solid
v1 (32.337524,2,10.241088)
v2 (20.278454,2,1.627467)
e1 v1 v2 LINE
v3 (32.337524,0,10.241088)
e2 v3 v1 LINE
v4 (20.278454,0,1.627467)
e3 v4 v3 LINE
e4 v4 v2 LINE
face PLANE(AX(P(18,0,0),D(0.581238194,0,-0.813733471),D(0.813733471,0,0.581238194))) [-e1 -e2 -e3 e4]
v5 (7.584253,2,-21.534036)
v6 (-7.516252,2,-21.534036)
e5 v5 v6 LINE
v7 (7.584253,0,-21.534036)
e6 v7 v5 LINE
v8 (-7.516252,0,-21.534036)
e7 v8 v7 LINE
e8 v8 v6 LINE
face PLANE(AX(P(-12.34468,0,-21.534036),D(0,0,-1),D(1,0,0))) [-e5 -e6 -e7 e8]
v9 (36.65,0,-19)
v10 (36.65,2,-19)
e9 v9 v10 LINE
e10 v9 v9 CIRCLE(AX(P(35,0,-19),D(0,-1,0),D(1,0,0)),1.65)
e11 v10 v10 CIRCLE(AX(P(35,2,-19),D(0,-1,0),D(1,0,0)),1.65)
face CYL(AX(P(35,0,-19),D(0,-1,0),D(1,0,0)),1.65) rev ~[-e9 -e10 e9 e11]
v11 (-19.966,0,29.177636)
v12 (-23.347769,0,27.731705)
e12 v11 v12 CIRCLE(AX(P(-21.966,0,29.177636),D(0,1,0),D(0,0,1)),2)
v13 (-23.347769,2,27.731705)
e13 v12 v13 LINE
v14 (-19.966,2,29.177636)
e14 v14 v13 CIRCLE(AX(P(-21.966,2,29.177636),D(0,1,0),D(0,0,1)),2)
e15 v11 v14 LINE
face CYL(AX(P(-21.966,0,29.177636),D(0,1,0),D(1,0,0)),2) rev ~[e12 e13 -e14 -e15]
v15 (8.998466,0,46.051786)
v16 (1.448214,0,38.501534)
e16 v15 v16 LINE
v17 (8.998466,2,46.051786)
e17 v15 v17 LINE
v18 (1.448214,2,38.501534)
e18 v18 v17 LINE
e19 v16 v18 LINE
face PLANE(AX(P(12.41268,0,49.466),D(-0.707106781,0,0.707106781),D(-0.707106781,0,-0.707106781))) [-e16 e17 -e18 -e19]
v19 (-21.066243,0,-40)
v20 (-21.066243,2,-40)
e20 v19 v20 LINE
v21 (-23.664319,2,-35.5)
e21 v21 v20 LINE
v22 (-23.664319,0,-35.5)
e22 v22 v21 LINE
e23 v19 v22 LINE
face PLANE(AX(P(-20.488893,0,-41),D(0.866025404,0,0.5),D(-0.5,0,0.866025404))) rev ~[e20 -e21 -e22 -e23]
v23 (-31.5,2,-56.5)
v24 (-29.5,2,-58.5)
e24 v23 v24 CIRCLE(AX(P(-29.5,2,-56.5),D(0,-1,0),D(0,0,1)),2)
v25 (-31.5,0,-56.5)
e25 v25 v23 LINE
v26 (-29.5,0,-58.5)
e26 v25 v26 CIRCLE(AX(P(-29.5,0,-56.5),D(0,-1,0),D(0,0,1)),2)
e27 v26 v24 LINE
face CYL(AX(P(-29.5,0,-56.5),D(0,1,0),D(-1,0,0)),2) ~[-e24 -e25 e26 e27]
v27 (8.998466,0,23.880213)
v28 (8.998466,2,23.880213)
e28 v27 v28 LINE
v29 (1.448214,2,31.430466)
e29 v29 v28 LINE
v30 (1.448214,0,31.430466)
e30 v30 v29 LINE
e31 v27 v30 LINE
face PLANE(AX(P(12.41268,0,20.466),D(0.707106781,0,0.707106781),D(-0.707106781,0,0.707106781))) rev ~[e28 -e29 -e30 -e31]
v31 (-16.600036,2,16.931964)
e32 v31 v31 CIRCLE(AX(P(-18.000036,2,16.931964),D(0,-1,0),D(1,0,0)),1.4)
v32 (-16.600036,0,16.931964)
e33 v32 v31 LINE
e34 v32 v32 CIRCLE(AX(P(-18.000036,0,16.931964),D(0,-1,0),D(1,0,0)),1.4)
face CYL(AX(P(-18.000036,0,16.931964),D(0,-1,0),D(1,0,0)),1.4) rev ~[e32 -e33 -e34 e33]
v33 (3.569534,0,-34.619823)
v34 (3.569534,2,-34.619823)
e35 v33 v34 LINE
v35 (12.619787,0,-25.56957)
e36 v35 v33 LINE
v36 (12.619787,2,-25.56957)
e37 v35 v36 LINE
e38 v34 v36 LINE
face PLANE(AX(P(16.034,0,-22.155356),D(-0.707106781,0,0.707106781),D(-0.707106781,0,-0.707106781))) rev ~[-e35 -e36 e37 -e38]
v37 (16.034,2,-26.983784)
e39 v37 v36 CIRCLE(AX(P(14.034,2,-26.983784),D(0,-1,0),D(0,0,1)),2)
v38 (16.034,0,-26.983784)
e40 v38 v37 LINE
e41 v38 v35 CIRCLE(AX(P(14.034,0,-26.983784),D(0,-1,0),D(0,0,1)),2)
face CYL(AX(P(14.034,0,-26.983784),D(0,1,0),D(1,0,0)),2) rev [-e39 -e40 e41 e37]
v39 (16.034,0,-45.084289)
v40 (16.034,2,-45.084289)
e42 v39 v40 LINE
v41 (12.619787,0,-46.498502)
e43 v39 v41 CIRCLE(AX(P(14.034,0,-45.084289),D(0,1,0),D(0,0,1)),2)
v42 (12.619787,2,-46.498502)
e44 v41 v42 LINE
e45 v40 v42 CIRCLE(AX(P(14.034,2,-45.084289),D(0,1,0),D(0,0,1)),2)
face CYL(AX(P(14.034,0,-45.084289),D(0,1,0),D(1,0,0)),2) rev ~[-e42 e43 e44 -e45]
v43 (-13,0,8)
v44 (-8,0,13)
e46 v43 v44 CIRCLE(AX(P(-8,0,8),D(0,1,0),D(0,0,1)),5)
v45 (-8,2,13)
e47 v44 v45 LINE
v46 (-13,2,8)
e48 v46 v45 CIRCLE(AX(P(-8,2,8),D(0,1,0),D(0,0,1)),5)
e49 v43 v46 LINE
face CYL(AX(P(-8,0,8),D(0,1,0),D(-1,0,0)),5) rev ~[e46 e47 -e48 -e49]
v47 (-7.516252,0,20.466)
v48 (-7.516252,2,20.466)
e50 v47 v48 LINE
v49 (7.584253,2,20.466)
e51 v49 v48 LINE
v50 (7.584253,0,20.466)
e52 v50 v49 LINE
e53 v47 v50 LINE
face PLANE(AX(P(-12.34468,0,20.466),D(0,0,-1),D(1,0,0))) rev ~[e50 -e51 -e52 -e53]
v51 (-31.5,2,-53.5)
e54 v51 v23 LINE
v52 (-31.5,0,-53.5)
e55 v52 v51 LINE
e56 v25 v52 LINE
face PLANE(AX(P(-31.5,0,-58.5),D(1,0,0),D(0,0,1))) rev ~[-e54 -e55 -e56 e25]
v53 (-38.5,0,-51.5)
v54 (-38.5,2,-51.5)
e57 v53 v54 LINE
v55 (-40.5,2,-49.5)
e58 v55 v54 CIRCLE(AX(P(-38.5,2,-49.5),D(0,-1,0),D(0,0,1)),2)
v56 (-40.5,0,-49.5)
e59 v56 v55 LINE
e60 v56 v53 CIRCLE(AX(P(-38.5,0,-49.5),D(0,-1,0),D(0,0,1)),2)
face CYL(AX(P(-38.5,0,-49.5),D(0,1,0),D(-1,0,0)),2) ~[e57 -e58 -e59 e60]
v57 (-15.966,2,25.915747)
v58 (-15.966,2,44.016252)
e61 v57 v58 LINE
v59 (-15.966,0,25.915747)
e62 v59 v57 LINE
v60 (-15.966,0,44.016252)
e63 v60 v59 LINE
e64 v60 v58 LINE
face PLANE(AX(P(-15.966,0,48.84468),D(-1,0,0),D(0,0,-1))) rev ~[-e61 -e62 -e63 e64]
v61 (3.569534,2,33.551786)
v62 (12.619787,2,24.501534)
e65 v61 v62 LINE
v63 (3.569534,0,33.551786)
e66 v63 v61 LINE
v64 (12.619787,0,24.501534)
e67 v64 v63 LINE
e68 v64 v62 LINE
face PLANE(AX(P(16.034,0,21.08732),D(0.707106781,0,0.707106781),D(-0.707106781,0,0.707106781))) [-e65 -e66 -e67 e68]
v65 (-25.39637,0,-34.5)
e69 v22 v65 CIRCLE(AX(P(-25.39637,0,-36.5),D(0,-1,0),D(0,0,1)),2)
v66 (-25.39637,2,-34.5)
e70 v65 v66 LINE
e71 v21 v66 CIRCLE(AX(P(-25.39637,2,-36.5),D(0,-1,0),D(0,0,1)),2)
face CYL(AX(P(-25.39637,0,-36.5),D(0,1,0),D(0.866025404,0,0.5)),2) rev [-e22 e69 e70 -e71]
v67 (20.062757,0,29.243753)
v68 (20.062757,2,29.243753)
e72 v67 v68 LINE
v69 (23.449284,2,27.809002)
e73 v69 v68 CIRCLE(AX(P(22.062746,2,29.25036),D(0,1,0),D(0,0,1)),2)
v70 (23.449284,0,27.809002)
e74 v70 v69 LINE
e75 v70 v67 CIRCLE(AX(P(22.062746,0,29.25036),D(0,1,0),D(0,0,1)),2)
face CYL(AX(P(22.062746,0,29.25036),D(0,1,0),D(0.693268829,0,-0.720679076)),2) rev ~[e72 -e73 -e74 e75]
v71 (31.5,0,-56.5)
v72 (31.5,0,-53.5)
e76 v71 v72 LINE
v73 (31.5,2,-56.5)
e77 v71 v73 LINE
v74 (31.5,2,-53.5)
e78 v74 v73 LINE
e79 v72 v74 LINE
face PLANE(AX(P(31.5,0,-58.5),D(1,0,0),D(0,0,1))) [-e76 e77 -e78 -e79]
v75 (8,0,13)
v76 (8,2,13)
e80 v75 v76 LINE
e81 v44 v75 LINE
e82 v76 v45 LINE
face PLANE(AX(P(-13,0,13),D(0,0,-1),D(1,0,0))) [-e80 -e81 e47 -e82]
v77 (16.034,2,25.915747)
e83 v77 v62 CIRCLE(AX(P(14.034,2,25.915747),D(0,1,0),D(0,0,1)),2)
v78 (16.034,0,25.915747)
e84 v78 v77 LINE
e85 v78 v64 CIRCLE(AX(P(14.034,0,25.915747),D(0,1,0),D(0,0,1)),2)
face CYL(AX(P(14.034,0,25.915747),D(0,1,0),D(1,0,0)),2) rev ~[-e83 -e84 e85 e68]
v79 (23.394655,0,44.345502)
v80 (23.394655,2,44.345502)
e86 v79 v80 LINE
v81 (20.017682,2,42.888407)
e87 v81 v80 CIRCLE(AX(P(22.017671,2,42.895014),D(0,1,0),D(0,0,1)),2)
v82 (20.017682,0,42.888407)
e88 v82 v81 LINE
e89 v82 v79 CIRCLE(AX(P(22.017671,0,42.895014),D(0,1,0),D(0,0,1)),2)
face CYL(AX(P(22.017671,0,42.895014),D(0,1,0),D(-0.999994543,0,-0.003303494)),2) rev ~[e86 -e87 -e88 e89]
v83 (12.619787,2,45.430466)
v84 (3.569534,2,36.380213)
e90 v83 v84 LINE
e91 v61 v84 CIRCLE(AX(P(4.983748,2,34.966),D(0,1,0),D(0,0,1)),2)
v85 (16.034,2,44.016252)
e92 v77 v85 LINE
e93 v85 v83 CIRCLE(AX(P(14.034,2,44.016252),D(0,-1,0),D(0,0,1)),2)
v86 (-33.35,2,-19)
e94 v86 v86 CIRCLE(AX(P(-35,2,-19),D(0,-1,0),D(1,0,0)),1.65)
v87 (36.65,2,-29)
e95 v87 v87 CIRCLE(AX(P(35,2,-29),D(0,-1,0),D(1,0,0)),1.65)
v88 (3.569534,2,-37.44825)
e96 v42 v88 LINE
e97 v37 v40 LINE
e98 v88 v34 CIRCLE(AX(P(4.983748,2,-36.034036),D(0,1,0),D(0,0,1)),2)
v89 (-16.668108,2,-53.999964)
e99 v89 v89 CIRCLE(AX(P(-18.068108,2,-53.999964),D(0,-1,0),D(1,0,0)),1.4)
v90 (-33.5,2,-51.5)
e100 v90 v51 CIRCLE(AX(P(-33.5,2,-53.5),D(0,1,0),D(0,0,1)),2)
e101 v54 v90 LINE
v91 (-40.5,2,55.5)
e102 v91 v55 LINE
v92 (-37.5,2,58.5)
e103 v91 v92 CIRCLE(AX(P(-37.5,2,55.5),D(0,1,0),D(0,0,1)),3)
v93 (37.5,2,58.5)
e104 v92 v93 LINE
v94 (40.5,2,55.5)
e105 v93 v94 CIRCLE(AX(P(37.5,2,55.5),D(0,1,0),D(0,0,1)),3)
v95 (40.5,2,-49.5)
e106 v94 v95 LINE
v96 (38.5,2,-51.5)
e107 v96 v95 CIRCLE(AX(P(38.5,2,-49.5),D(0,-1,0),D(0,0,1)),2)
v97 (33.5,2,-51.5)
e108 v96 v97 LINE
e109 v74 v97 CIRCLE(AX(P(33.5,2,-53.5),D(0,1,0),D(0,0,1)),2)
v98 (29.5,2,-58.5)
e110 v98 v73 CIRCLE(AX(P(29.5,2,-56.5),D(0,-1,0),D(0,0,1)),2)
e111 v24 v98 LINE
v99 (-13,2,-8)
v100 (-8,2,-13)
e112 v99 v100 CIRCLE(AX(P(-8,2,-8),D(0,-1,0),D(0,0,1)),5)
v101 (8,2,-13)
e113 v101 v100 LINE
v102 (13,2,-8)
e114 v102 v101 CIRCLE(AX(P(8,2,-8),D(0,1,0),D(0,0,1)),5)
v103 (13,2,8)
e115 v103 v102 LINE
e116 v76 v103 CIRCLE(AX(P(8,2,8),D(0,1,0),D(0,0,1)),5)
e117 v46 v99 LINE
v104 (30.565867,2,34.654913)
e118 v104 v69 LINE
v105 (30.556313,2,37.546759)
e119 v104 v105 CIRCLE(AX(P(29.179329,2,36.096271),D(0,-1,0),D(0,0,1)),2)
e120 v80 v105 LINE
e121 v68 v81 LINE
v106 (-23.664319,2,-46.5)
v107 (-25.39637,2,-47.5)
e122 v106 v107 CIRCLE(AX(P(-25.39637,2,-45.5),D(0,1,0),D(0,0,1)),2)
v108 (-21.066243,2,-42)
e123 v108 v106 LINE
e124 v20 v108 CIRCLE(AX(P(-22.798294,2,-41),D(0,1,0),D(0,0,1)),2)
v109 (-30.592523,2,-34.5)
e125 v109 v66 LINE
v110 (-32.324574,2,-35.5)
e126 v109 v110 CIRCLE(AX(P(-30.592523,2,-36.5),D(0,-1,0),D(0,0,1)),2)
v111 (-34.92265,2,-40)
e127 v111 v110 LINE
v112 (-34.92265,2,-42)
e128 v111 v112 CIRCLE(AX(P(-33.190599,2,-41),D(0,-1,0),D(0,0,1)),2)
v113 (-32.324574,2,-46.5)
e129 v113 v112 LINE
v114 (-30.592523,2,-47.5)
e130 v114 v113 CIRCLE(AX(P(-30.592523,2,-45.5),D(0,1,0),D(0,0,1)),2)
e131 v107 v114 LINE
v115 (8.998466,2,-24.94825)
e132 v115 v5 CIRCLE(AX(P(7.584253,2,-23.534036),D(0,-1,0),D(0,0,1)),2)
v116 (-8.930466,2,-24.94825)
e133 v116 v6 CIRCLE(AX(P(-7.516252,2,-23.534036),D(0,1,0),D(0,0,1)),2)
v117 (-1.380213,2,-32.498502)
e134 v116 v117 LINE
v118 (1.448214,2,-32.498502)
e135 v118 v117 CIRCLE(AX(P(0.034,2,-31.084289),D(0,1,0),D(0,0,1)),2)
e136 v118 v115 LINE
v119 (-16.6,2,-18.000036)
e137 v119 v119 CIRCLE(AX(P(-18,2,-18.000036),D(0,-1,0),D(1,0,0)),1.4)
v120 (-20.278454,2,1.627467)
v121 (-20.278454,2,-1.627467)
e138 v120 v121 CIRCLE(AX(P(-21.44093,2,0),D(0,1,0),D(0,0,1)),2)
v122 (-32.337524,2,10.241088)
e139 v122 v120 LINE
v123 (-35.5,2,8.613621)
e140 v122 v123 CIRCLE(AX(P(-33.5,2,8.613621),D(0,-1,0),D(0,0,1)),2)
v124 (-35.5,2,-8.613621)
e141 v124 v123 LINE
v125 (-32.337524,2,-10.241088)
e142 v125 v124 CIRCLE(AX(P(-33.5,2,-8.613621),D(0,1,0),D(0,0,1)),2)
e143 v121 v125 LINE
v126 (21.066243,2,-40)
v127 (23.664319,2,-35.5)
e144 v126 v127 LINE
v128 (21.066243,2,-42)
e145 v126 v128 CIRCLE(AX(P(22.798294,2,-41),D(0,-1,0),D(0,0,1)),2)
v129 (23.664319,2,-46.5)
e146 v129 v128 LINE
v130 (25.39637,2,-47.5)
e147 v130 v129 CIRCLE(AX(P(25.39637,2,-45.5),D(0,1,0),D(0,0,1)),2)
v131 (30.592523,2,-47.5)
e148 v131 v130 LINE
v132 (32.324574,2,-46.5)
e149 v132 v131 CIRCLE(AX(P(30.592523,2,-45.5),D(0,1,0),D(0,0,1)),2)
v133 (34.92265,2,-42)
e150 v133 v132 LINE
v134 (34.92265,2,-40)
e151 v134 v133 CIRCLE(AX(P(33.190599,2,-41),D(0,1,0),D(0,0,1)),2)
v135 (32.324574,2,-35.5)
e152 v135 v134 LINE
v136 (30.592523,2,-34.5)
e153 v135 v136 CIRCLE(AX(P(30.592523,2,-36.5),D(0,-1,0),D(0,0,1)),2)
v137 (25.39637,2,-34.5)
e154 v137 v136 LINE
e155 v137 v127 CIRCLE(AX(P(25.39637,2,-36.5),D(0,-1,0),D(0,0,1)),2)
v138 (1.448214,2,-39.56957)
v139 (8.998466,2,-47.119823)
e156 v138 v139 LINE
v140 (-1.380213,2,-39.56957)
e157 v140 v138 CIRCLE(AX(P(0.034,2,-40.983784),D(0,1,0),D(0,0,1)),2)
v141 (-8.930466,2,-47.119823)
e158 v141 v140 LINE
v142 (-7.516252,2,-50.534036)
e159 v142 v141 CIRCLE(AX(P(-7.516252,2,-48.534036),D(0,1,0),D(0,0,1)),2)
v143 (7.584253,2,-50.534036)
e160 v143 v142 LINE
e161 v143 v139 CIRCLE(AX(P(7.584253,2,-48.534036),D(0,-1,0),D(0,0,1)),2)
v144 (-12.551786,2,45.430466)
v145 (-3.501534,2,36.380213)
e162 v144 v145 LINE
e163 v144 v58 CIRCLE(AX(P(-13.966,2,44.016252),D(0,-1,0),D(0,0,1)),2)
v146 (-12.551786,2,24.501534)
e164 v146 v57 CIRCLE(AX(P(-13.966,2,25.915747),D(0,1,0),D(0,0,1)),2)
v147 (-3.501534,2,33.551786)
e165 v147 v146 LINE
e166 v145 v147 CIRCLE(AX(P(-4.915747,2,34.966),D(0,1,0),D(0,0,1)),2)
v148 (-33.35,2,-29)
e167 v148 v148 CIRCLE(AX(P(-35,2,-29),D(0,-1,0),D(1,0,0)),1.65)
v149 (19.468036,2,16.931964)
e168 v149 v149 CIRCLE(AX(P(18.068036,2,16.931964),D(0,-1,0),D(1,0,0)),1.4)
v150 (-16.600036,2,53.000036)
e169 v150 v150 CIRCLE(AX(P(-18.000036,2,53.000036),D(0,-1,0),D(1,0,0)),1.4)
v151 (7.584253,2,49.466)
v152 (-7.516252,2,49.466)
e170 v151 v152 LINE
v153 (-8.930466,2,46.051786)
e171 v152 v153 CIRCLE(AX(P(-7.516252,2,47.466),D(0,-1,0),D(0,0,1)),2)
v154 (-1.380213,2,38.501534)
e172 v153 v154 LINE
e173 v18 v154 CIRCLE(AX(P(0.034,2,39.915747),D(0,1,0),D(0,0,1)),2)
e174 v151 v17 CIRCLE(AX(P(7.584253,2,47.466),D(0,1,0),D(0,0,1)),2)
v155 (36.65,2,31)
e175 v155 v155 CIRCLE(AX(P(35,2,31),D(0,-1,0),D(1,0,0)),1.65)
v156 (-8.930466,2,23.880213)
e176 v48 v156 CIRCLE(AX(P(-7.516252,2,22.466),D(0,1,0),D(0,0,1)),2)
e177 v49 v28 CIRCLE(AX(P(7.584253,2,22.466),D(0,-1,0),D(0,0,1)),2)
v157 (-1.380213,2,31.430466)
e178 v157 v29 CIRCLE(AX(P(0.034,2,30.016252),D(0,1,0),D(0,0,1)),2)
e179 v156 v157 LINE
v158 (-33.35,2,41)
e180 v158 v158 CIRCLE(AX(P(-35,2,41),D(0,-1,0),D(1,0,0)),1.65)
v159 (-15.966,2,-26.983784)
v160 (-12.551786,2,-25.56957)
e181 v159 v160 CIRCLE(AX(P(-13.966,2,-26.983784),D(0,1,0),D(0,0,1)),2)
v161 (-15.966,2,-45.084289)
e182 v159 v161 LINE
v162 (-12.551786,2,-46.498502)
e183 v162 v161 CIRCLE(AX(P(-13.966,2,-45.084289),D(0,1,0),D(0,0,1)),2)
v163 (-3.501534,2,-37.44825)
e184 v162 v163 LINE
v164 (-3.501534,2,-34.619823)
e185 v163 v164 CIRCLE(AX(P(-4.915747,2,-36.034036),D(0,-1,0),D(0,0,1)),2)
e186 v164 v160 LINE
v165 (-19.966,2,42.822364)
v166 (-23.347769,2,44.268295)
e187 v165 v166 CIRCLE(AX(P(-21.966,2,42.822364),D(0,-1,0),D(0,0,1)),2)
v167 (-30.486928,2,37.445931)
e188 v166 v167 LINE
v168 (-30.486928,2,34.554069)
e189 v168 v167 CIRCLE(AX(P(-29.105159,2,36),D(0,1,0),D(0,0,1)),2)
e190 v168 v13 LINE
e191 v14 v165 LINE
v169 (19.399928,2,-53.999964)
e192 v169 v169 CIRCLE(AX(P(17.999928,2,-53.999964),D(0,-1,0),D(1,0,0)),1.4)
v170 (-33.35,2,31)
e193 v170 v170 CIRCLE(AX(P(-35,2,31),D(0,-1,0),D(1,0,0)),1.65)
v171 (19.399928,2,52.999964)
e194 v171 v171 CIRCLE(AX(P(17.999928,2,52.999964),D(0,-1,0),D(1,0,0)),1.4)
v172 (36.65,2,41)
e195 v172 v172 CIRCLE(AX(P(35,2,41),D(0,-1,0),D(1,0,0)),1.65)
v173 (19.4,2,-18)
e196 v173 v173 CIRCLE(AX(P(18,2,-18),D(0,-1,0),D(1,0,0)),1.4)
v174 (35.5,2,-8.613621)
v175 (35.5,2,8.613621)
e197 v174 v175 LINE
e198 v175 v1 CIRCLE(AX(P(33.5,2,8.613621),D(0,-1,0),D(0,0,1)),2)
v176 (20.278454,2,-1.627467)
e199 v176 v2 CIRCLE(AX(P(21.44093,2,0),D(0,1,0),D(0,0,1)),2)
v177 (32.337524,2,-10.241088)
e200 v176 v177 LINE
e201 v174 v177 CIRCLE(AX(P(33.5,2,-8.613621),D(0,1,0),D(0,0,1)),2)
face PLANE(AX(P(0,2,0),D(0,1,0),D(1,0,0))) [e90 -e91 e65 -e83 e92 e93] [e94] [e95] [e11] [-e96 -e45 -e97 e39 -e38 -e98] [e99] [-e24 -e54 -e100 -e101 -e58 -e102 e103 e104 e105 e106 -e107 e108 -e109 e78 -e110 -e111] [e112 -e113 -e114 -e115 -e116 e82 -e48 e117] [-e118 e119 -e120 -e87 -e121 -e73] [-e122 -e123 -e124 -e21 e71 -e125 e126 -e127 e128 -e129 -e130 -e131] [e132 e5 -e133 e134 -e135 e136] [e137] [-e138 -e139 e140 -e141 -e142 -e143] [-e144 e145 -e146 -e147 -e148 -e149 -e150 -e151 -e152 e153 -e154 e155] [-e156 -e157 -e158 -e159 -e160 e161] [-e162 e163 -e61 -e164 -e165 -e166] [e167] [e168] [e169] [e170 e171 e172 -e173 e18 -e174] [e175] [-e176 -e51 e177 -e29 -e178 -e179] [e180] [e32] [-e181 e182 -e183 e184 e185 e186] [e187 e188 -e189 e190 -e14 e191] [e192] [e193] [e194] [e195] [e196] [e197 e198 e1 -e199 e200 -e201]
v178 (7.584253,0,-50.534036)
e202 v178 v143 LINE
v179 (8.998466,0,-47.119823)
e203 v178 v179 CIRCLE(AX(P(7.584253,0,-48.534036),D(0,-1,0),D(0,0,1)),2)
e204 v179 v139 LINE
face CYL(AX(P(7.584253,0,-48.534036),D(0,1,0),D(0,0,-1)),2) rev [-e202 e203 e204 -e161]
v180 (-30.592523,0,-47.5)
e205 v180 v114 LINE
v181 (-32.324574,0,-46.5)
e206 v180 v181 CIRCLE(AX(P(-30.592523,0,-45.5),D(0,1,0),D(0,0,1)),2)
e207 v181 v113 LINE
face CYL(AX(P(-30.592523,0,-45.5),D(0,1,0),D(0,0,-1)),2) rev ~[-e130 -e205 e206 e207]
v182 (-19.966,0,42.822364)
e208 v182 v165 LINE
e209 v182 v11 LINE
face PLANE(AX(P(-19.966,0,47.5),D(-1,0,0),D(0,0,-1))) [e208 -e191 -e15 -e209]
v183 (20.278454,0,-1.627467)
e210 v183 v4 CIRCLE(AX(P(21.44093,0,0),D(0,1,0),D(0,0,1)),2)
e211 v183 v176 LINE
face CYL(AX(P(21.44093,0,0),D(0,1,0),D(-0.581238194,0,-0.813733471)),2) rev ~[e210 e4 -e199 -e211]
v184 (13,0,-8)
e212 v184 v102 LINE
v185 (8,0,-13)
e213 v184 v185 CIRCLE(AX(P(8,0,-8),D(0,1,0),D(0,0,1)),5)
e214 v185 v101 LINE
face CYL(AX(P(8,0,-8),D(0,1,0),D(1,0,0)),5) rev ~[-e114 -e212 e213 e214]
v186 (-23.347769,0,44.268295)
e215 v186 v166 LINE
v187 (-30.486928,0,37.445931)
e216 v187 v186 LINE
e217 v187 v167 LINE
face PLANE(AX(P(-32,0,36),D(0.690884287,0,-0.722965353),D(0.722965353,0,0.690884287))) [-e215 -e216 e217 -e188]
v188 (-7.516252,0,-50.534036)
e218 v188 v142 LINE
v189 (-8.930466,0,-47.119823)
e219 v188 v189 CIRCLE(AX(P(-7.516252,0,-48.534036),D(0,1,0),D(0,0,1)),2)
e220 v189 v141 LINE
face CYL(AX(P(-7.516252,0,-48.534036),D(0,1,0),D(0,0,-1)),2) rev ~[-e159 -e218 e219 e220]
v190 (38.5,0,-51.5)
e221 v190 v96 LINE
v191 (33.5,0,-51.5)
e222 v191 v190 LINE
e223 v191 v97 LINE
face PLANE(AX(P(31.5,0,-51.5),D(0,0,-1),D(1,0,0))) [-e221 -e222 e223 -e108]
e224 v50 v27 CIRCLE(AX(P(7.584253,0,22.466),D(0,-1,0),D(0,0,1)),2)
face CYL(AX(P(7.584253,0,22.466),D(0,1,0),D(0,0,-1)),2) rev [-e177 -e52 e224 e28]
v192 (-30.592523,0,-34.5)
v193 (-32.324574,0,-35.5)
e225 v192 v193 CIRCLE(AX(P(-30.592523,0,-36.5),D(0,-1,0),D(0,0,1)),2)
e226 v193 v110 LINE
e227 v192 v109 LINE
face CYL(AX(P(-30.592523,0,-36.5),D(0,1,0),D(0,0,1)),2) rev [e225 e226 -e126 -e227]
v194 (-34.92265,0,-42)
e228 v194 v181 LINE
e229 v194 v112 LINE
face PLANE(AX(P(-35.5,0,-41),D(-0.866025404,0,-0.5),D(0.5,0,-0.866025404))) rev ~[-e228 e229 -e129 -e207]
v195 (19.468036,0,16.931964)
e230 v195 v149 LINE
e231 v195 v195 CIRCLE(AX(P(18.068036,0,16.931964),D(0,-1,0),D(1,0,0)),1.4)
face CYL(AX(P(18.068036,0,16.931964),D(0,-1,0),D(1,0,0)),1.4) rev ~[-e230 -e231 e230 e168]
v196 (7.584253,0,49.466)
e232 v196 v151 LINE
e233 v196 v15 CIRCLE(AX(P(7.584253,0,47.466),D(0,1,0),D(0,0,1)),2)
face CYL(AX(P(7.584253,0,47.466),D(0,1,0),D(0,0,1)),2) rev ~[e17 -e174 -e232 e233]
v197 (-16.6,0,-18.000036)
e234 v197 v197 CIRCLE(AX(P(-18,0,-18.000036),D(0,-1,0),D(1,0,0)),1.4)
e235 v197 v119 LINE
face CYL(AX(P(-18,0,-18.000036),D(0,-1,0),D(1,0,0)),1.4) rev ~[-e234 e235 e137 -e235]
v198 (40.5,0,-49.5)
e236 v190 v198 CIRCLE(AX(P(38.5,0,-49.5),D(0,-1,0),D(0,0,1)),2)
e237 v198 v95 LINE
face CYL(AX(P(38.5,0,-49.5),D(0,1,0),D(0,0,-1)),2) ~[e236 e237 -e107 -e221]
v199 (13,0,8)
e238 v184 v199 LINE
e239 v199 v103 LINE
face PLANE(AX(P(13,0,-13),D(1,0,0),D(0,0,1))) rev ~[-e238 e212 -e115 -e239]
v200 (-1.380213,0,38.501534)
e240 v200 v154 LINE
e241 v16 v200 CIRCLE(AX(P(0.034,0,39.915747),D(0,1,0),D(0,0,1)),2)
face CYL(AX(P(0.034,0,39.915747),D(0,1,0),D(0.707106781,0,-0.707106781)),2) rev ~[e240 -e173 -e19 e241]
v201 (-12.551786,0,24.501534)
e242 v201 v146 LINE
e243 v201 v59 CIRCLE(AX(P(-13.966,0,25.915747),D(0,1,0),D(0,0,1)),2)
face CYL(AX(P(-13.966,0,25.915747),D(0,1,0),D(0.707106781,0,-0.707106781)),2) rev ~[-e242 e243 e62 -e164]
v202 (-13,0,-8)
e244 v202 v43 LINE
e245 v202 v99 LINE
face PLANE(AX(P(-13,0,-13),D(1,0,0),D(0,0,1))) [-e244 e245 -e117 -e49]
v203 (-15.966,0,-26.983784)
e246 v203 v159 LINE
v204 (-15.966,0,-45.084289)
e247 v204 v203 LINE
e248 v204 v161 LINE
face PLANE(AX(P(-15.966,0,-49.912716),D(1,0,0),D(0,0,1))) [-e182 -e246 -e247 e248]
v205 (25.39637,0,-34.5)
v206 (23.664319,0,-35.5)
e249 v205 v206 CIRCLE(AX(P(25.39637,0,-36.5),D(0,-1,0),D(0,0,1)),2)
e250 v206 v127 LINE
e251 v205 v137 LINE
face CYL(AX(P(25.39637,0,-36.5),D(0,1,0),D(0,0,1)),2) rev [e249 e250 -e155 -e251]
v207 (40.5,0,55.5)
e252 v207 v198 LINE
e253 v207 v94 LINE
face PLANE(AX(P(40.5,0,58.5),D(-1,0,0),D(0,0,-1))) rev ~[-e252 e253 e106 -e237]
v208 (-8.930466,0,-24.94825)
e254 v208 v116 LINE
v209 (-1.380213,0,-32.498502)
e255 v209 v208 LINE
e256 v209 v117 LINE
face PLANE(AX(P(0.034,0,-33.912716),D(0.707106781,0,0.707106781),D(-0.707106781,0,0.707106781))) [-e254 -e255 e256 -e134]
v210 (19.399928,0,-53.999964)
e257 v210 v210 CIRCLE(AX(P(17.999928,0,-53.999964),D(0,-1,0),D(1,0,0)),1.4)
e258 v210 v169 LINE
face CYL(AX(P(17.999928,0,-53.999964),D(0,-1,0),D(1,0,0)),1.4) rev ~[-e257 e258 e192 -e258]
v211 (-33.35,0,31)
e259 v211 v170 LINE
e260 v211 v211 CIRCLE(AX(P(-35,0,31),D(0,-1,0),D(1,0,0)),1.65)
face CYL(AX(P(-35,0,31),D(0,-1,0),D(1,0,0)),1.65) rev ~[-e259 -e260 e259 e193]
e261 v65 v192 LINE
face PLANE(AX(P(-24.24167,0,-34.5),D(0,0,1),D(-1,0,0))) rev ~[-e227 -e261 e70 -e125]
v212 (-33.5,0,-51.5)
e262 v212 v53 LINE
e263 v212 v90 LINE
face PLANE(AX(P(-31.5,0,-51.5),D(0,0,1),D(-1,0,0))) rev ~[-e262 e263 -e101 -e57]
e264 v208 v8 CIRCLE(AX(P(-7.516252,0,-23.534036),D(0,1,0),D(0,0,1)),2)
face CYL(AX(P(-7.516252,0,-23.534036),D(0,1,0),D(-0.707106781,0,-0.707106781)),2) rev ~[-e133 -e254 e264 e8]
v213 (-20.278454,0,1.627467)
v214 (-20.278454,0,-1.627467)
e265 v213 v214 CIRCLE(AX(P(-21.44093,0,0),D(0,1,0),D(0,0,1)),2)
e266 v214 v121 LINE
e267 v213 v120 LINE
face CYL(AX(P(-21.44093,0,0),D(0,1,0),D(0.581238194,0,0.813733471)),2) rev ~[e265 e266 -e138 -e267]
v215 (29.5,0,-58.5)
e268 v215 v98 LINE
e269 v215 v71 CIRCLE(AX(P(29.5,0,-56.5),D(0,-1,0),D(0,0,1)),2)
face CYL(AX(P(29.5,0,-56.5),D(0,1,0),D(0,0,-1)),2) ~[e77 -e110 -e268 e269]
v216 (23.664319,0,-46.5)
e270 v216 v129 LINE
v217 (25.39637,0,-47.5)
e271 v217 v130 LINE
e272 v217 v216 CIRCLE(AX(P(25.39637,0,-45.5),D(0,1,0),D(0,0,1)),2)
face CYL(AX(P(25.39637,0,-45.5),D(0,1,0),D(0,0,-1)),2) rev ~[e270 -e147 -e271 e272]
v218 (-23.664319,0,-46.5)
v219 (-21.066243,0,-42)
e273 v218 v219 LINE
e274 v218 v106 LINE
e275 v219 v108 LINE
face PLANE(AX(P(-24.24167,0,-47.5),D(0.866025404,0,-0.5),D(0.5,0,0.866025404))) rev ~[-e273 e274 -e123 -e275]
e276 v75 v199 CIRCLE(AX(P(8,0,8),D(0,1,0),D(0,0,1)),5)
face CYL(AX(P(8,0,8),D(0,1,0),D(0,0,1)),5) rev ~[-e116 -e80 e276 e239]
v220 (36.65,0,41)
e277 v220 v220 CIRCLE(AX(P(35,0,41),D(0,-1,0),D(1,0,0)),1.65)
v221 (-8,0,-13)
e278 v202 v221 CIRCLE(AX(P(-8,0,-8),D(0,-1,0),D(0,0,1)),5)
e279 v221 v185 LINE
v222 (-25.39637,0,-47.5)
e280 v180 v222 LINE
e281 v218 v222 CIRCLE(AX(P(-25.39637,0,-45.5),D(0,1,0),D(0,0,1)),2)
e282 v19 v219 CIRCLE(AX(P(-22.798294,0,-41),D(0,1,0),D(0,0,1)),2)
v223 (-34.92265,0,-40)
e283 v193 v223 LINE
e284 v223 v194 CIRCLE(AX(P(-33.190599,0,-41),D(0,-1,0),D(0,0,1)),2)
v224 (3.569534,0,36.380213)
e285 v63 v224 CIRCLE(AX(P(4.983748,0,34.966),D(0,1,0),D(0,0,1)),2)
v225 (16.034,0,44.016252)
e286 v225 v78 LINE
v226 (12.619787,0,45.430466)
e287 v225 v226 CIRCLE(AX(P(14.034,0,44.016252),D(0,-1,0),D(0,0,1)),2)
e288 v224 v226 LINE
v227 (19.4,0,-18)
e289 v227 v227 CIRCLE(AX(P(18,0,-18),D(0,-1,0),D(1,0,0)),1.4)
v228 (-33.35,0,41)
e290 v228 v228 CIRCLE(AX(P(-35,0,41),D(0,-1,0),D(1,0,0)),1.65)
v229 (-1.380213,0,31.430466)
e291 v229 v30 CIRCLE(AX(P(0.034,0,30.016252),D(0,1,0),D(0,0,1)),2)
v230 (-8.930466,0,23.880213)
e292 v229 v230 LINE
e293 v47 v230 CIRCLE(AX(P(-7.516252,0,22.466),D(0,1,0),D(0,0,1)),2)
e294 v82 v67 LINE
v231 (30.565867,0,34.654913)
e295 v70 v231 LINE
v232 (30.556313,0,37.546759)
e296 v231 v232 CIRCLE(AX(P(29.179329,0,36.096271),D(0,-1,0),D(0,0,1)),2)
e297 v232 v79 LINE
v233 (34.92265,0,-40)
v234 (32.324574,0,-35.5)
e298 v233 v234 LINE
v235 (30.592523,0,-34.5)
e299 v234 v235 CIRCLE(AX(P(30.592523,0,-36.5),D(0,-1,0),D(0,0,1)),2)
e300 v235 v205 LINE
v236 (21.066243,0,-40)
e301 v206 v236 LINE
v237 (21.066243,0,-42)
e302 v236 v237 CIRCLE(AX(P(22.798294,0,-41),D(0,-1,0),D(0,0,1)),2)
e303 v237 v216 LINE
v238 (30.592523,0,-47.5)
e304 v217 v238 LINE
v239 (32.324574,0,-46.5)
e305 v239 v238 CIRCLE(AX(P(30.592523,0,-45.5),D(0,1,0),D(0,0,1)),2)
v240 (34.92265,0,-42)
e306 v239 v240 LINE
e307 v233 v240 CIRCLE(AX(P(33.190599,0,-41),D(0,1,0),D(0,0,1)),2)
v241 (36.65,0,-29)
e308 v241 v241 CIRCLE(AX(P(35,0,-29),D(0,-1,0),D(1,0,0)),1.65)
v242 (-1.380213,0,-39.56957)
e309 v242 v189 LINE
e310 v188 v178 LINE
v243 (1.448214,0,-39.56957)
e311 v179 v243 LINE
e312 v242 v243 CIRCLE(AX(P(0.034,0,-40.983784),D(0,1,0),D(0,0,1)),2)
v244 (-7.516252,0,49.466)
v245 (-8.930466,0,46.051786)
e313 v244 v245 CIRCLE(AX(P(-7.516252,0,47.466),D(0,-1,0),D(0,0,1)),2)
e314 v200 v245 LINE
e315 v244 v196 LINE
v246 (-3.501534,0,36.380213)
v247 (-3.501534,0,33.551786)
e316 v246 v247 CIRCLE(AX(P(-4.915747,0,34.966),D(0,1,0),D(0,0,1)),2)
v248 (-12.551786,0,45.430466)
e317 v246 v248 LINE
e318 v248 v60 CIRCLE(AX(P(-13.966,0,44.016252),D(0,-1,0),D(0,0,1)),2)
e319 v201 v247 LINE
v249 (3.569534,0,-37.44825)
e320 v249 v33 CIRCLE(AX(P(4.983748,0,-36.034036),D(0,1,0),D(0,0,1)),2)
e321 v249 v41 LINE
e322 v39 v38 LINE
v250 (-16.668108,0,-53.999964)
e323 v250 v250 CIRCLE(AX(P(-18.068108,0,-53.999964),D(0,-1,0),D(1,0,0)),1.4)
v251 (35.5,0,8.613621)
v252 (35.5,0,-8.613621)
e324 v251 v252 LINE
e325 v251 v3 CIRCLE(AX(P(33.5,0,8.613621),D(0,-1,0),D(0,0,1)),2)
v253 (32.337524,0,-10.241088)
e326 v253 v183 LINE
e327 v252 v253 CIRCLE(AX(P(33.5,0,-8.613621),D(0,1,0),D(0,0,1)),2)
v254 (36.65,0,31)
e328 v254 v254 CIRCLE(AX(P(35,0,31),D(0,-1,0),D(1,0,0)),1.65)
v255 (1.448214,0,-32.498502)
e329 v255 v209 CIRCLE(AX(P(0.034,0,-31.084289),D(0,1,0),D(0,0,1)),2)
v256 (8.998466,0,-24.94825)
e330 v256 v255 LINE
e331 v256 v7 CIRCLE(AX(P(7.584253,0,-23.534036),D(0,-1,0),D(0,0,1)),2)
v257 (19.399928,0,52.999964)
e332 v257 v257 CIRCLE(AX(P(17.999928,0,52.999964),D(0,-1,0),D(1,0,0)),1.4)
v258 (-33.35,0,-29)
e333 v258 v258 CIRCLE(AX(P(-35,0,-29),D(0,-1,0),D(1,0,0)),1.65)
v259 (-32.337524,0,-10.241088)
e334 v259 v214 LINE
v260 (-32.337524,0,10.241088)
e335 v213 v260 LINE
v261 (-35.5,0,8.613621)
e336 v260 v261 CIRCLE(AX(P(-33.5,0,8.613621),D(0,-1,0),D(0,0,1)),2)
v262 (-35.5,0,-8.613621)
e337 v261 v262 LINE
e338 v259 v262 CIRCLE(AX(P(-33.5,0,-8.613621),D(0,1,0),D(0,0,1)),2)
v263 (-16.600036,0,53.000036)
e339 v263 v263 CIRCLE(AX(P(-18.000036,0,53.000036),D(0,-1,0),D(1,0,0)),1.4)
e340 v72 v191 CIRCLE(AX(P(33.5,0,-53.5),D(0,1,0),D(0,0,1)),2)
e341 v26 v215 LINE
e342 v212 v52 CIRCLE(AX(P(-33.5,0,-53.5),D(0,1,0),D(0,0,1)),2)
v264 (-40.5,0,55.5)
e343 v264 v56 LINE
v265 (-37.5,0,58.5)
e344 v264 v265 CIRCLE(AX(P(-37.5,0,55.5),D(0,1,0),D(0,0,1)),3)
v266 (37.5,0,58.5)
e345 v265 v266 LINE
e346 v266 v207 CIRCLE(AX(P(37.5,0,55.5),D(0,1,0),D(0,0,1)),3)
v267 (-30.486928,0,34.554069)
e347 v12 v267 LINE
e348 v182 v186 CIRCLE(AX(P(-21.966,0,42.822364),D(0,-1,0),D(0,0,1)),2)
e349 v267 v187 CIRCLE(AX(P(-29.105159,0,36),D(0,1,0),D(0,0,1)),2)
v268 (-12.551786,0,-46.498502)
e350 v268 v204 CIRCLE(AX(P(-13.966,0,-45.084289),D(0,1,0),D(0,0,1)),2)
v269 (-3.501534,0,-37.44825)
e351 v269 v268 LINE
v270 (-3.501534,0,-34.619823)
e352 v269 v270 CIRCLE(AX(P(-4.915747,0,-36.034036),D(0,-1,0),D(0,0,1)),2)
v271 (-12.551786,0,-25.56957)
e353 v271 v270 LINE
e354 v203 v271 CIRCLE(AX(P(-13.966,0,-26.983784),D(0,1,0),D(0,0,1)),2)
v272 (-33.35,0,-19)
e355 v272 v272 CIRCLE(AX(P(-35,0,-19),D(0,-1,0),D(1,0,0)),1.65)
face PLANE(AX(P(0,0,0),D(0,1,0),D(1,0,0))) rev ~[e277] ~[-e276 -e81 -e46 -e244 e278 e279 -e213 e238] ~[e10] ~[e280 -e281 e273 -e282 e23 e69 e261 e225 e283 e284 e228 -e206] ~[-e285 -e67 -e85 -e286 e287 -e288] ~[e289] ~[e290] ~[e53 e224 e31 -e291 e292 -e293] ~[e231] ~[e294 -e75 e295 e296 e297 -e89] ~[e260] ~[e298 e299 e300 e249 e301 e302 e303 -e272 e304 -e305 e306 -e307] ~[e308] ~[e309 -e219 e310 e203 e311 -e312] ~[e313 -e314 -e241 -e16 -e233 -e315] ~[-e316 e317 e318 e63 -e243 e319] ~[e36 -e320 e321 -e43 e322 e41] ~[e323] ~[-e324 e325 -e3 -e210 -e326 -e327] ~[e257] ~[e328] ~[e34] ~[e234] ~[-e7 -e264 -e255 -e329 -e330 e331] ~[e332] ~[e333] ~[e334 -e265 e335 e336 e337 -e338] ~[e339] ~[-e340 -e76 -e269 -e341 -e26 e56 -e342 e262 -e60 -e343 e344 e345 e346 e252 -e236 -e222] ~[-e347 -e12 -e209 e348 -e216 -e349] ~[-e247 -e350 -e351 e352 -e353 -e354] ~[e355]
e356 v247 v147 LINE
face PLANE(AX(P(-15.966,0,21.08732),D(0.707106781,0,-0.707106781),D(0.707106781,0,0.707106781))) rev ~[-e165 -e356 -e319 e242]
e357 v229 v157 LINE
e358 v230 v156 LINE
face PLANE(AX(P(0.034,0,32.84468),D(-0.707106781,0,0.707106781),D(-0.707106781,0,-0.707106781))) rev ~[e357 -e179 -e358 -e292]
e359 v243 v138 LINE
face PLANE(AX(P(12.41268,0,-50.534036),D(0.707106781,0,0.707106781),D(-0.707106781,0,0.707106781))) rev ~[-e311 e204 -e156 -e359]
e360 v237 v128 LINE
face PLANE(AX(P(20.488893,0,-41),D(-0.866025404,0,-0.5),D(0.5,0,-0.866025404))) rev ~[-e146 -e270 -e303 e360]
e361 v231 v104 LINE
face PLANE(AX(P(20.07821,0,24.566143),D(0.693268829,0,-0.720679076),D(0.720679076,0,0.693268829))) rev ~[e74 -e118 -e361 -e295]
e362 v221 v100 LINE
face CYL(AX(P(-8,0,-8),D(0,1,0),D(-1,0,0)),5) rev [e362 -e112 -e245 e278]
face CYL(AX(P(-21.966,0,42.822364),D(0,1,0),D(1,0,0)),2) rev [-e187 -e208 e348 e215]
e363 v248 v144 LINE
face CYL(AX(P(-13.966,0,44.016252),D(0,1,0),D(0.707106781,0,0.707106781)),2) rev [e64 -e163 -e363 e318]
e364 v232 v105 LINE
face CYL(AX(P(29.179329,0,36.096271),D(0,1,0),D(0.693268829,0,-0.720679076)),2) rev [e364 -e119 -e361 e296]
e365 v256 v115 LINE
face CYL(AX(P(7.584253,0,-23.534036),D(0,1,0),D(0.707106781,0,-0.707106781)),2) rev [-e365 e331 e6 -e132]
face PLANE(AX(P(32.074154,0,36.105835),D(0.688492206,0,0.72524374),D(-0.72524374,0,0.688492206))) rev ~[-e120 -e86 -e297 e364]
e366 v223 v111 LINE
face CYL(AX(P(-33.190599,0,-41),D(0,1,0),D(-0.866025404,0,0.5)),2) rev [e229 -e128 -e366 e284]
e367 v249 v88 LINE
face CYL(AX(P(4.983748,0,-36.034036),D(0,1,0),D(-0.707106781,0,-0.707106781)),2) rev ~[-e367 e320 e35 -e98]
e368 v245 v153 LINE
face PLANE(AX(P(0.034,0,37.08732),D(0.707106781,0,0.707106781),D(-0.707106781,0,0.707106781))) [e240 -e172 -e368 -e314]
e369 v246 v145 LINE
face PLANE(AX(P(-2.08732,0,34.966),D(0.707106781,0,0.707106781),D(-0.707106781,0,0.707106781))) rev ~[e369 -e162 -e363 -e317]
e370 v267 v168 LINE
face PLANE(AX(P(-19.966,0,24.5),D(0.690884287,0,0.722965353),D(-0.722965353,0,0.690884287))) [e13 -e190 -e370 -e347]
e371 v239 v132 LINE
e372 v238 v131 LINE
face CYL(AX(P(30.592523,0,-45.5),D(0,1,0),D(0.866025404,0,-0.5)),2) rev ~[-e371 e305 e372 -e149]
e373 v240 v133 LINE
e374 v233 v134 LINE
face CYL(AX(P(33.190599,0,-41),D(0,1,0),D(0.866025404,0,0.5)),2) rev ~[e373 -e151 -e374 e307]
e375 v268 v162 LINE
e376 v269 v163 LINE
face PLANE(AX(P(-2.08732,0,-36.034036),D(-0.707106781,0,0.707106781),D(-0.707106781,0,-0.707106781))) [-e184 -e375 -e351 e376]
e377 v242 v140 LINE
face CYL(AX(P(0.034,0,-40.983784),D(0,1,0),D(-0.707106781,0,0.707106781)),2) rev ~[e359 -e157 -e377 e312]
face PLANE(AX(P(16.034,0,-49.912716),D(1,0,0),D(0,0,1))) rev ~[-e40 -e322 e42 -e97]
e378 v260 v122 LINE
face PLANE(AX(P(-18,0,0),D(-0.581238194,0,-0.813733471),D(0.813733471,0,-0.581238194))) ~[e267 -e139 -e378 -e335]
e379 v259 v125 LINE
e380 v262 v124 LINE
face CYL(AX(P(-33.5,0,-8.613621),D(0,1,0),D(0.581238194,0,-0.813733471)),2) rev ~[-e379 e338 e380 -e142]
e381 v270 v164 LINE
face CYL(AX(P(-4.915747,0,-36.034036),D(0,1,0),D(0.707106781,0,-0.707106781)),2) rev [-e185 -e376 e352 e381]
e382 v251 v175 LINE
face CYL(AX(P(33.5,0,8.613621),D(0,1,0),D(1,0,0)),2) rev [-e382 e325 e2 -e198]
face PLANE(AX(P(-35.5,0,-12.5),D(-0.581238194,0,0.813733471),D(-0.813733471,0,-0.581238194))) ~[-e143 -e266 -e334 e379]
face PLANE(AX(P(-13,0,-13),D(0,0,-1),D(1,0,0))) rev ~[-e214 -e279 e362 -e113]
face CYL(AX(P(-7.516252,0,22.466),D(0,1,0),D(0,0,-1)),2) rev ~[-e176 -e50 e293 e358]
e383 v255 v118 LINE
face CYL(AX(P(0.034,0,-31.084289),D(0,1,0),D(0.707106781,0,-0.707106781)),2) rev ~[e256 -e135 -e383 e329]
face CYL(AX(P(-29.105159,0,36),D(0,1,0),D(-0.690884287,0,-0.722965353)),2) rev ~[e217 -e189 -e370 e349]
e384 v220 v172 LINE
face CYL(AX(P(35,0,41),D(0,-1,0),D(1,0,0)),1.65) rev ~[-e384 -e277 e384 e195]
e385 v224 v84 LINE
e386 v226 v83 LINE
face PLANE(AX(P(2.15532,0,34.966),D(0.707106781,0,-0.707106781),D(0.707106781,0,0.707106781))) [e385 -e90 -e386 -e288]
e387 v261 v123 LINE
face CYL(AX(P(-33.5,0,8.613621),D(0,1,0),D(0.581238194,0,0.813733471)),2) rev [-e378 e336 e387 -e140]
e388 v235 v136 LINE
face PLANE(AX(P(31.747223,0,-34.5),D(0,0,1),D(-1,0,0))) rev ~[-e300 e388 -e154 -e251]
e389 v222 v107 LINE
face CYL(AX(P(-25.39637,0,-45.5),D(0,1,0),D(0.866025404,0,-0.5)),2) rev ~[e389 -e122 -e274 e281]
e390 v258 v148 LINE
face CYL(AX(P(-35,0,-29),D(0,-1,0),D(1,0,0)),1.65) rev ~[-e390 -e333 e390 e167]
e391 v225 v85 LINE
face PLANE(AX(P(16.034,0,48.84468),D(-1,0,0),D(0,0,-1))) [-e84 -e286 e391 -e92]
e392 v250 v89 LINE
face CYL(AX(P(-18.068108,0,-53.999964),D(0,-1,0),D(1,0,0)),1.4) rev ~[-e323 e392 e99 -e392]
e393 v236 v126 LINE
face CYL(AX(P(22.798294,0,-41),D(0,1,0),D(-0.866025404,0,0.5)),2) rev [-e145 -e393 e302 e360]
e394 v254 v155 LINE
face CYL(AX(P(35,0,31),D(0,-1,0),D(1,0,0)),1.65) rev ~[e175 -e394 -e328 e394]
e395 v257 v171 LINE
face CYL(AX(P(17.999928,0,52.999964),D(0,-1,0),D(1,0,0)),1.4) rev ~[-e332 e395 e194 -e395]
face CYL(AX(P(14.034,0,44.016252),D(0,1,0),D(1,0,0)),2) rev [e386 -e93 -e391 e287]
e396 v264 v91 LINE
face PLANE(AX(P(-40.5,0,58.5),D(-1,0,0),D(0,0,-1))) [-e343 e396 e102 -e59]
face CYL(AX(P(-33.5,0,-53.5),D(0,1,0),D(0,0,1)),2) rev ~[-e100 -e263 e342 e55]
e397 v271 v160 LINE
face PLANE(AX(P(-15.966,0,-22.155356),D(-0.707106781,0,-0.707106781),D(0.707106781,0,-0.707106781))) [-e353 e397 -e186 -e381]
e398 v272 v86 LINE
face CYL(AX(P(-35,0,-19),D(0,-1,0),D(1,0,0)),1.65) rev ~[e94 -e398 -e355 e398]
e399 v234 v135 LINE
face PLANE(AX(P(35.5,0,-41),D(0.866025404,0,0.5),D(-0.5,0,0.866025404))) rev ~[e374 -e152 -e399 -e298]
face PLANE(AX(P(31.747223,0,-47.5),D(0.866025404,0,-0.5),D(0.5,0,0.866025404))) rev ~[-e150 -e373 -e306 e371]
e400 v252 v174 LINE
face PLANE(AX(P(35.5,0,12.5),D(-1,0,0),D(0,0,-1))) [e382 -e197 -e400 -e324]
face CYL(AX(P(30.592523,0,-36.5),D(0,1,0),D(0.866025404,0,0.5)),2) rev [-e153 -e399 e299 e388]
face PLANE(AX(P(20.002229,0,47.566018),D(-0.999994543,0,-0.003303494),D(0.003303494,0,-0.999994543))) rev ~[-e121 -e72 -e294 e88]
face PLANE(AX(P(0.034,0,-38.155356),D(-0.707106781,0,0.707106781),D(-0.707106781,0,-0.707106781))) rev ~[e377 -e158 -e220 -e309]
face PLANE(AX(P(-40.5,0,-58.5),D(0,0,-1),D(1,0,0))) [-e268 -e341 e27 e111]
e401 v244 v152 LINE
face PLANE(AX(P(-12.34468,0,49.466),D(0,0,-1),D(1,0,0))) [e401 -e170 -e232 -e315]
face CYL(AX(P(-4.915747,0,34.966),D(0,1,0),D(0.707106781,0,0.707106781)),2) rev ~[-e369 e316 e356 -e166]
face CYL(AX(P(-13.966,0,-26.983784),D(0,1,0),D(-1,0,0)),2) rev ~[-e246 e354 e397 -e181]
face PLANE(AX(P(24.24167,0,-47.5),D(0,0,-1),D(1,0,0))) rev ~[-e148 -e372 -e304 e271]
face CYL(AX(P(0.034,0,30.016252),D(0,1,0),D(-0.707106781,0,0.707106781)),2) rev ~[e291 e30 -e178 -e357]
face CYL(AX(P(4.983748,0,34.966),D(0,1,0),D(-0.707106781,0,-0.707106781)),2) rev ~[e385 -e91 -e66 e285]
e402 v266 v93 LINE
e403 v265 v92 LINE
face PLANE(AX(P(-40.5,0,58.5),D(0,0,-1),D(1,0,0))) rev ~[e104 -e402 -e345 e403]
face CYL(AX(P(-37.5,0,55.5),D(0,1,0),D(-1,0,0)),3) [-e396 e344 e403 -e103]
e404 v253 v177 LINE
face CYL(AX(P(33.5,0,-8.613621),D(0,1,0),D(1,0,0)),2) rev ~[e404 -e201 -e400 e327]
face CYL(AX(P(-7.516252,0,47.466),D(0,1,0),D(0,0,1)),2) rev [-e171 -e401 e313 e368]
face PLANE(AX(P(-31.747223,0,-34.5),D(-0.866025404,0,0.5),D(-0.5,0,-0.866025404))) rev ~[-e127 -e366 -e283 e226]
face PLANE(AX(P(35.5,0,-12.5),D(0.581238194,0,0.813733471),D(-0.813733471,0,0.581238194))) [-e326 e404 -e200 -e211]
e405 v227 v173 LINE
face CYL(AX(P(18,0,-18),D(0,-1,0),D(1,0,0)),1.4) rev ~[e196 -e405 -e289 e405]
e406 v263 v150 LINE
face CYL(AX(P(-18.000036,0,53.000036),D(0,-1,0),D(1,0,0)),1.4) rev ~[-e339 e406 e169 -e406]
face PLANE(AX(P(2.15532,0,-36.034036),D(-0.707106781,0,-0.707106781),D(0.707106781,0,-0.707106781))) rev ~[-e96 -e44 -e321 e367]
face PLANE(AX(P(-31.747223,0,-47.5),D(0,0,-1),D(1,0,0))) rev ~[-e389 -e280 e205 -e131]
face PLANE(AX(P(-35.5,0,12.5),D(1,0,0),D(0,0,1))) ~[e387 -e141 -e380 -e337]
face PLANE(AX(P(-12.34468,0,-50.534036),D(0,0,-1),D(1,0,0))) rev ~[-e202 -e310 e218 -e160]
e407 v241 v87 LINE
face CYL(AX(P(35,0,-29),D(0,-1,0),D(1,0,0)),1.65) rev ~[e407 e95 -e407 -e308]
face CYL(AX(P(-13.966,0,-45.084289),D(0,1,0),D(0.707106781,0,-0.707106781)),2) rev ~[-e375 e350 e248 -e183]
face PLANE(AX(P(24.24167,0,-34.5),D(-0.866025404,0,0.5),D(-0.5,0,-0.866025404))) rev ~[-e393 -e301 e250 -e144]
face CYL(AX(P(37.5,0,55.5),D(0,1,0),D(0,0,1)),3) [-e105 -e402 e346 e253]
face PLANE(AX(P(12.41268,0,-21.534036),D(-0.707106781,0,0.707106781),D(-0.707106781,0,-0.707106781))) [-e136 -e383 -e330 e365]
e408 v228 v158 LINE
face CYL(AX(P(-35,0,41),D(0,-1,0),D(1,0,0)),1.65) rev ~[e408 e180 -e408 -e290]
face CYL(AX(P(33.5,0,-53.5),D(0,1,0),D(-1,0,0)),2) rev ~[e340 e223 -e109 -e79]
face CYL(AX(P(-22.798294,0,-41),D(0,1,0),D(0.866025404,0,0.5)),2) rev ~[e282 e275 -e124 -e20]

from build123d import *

# Parameters (mm, degrees)
SKETCH_1_W             = 81
SKETCH_1_H             = 117
EXTRUDE_1_DEPTH        = 2
FILLET_2_R             = 3
SKETCH_2_R             = 1.4
SKETCH_2_R_2           = 1.65
CUT_EXTRUDE_1_DEPTH    = 10
CUT_EXTRUDE_2_DEPTH    = 10
FILLET_3_R             = 2
CUT_EXTRUDE_3_DEPTH    = 10
FILLET_4_R             = 2
SKETCH_6_W             = 26
SKETCH_6_H             = 26
CUT_EXTRUDE_4_DEPTH    = 10
FILLET_5_R             = 5
CUT_EXTRUDE_5_DEPTH    = 10
FILLET_6_R             = 2
FILLET_6_OF_MIRROR_1_R = 2
CUT_EXTRUDE_6_DEPTH    = 10
CUT_EXTRUDE_7_DEPTH    = 10
FILLET_7_R             = 2


with BuildPart() as part:
    # 草图1 → 凸台-拉伸1 (new body)
    with BuildSketch(Plane(origin=(0, 0, 0), x_dir=(1, 0, 0), z_dir=(0, 1, 0))):
        Rectangle(SKETCH_1_W, SKETCH_1_H)
    extrude(amount=EXTRUDE_1_DEPTH)

    # 圆角2
    fillet_2_edges = [part.edges().sort_by_distance(p)[0] for p in [
        (40.5, 1, 58.5),
        (-40.5, 1, 58.5),
        (-40.5, 1, -58.5),
        (40.5, 1, -58.5),
    ]]
    fillet(fillet_2_edges, radius=FILLET_2_R)

    # 草图2 → 切除-拉伸1 (cut)
    with BuildSketch(Plane.XZ):
        with Locations((-18.000036, 16.931963864)):
            Circle(SKETCH_2_R)
        with Locations((18.068036136, 16.931963864)):
            Circle(SKETCH_2_R)
        with Locations((-18.000036, 53.000036)):
            Circle(SKETCH_2_R)
        with Locations((17.999928, 52.999964)):
            Circle(SKETCH_2_R)
        with Locations((-18, -18.000036)):
            Circle(SKETCH_2_R)
        with Locations((18, -18)):
            Circle(SKETCH_2_R)
        with Locations((-18.068108136, -53.999964)):
            Circle(SKETCH_2_R)
        with Locations((17.999928, -53.999964)):
            Circle(SKETCH_2_R)
        with Locations((-35, 41)):
            Circle(SKETCH_2_R_2)
        with Locations((35, 41)):
            Circle(SKETCH_2_R_2)
        with Locations((35, -19)):
            Circle(SKETCH_2_R_2)
        with Locations((-35, -19)):
            Circle(SKETCH_2_R_2)
        with Locations((-35, 31)):
            Circle(SKETCH_2_R_2)
        with Locations((-35, -29)):
            Circle(SKETCH_2_R_2)
        with Locations((35, -29)):
            Circle(SKETCH_2_R_2)
        with Locations((35, 31)):
            Circle(SKETCH_2_R_2)
    extrude(amount=-CUT_EXTRUDE_1_DEPTH, mode=Mode.SUBTRACT)

    # 草图4 → 切除-拉伸2 (cut)
    with BuildSketch(Plane.XZ):
        with BuildLine():
            Line((31.5, -58.5), (31.5, -51.5))
            Line((31.5, -51.5), (40.5, -51.5))
            Line((40.5, -51.5), (40.5, -55.5))
            ThreePointArc((40.5, -55.5), (39.621320344, -57.621320344), (37.5, -58.5))
            Line((37.5, -58.5), (31.5, -58.5))
        make_face()
        with BuildLine():
            Line((-37.5, -58.5), (-31.5, -58.5))
            Line((-31.5, -58.5), (-31.5, -51.5))
            Line((-31.5, -51.5), (-40.5, -51.5))
            Line((-40.5, -51.5), (-40.5, -55.5))
            ThreePointArc((-40.5, -55.5), (-39.621320344, -57.621320344), (-37.5, -58.5))
        make_face()
    extrude(amount=-CUT_EXTRUDE_2_DEPTH, mode=Mode.SUBTRACT)

    # 圆角3
    fillet_3_edges = [part.edges().sort_by_distance(p)[0] for p in [
        (31.5, 1, -58.5),
        (31.5, 1, -51.5),
        (40.5, 1, -51.5),
        (-40.5, 1, -51.5),
        (-31.5, 1, -51.5),
        (-31.5, 1, -58.5),
    ]]
    fillet(fillet_3_edges, radius=FILLET_3_R)

    # 草图5 → 切除-拉伸3 (cut)
    with BuildSketch(Plane.XZ):
        Polygon((-12.344679588, 49.465999932), (12.412679725, 49.465999932), (0.034000068, 37.087320275), align=None)
        Polygon((-15.965999932, 48.844679588), (-15.965999932, 21.087320275), (-2.087320275, 34.965999932), align=None)
        Polygon((16.034000068, 48.844679588), (16.034000068, 21.087320275), (2.155320412, 34.965999932), align=None)
        Polygon((12.412679725, 20.465999932), (0.034000068, 32.844679588), (-12.344679588, 20.465999932), align=None)
        Polygon((12.412679725, -21.534036068), (0.034000068, -33.912715725), (-12.344679588, -21.534036068), align=None)
        Polygon((16.034000068, -22.155356412), (2.155320412, -36.034036068), (16.034000068, -49.912715725), align=None)
        Polygon((12.412679725, -50.534036068), (0.034000068, -38.155356412), (-12.344679588, -50.534036068), align=None)
        Polygon((-2.087320275, -36.034036068), (-15.965999932, -49.912715725), (-15.965999932, -22.155356412), align=None)
    extrude(amount=-CUT_EXTRUDE_3_DEPTH, mode=Mode.SUBTRACT)

    # 圆角4
    fillet_4_edges = [part.edges().sort_by_distance(p)[0] for p in [
        (-12.344679588, 1, -21.534036068),
        (12.412679725, 1, -21.534036068),
        (0.034000068, 1, -33.912715725),
        (12.412679725, 1, 20.465999932),
        (-12.344679588, 1, 20.465999932),
        (0.034000068, 1, 32.844679588),
        (2.155320412, 1, 34.965999932),
        (16.034000068, 1, 48.844679588),
        (16.034000068, 1, 21.087320275),
        (-15.965999932, 1, 48.844679588),
        (-2.087320275, 1, 34.965999932),
        (-15.965999932, 1, 21.087320275),
        (-15.965999932, 1, -22.155356412),
        (-2.087320275, 1, -36.034036068),
        (-15.965999932, 1, -49.912715725),
        (16.034000068, 1, -22.155356412),
        (16.034000068, 1, -49.912715725),
        (2.155320412, 1, -36.034036068),
        (12.412679725, 1, -50.534036068),
        (-12.344679588, 1, -50.534036068),
        (0.034000068, 1, -38.155356412),
        (0.034000068, 1, 37.087320275),
        (-12.344679588, 1, 49.465999932),
        (12.412679725, 1, 49.465999932),
    ]]
    fillet(fillet_4_edges, radius=FILLET_4_R)

    # 草图6 → 切除-拉伸4 (cut)
    with BuildSketch(Plane.XZ):
        Rectangle(SKETCH_6_W, SKETCH_6_H)
    extrude(amount=-CUT_EXTRUDE_4_DEPTH, mode=Mode.SUBTRACT)

    # 圆角5
    fillet_5_edges = [part.edges().sort_by_distance(p)[0] for p in [
        (13, 1, 13),
        (13, 1, -13),
        (-13, 1, -13),
        (-13, 1, 13),
    ]]
    fillet(fillet_5_edges, radius=FILLET_5_R)

    # 草图7 → 切除-拉伸5 (cut)
    with BuildSketch(Plane.XZ):
        Polygon((35.5, 12.5), (35.5, -12.5), (18, 0), align=None)
    cut_extrude_5 = extrude(amount=-CUT_EXTRUDE_5_DEPTH, mode=Mode.SUBTRACT)

    # 圆角6
    fillet_6_edges = [part.edges().sort_by_distance(p)[0] for p in [
        (18, 1, 0),
        (35.5, 1, 12.5),
        (35.5, 1, -12.5),
    ]]
    fillet(fillet_6_edges, radius=FILLET_6_R)

    # 镜向1: 切除-拉伸5 across plane
    add(cut_extrude_5.mirror(Plane(origin=(0, 0, 0), x_dir=(0, 0, 1), z_dir=(1, 0, 0))), mode=Mode.SUBTRACT)

    # 圆角6 of 镜向1
    fillet_6_of_mirror_1_edges = [part.edges().sort_by_distance(p)[0] for p in [
        (-18, 1, 0),
        (-35.5, 1, 12.5),
        (-35.5, 1, -12.5),
    ]]
    fillet(fillet_6_of_mirror_1_edges, radius=FILLET_6_OF_MIRROR_1_R)

    # 草图8 → 切除-拉伸6 (cut)
    with BuildSketch(Plane.XZ):
        Polygon((-24.241669751, -34.5), (-31.74722325, -34.5), (-35.5, -41), (-31.74722325, -47.5), (-24.241669751, -47.5), (-20.488893001, -41), align=None)
        Polygon((31.74722325, -34.5), (24.241669751, -34.5), (20.488893001, -41), (24.241669751, -47.5), (31.74722325, -47.5), (35.5, -41), align=None)
    extrude(amount=-CUT_EXTRUDE_6_DEPTH, mode=Mode.SUBTRACT)

    # 草图9 → 切除-拉伸7 (cut)
    with BuildSketch(Plane.XZ):
        Polygon((-19.965999932, 47.5), (-19.965999932, 24.5), (-32, 36), align=None)
        Polygon((32.074154001, 36.105834574), (20.002229418, 47.566017579), (20.078209775, 24.566143079), align=None)
    extrude(amount=-CUT_EXTRUDE_7_DEPTH, mode=Mode.SUBTRACT)

    # 圆角7
    fillet_7_edges = [part.edges().sort_by_distance(p)[0] for p in [
        (-24.241669751, 1, -34.5),
        (-20.488893001, 1, -41),
        (-24.241669751, 1, -47.5),
        (-31.74722325, 1, -47.5),
        (-35.5, 1, -41),
        (-31.74722325, 1, -34.5),
        (31.74722325, 1, -34.5),
        (35.5, 1, -41),
        (31.74722325, 1, -47.5),
        (24.241669751, 1, -47.5),
        (20.488893001, 1, -41),
        (24.241669751, 1, -34.5),
        (-32, 1, 36),
        (-19.965999932, 1, 47.5),
        (-19.965999932, 1, 24.5),
        (32.074154001, 1, 36.105834574),
        (20.078209775, 1, 24.566143079),
        (20.002229418, 1, 47.566017579),
    ]]
    fillet(fillet_7_edges, radius=FILLET_7_R)


solid = part.part
